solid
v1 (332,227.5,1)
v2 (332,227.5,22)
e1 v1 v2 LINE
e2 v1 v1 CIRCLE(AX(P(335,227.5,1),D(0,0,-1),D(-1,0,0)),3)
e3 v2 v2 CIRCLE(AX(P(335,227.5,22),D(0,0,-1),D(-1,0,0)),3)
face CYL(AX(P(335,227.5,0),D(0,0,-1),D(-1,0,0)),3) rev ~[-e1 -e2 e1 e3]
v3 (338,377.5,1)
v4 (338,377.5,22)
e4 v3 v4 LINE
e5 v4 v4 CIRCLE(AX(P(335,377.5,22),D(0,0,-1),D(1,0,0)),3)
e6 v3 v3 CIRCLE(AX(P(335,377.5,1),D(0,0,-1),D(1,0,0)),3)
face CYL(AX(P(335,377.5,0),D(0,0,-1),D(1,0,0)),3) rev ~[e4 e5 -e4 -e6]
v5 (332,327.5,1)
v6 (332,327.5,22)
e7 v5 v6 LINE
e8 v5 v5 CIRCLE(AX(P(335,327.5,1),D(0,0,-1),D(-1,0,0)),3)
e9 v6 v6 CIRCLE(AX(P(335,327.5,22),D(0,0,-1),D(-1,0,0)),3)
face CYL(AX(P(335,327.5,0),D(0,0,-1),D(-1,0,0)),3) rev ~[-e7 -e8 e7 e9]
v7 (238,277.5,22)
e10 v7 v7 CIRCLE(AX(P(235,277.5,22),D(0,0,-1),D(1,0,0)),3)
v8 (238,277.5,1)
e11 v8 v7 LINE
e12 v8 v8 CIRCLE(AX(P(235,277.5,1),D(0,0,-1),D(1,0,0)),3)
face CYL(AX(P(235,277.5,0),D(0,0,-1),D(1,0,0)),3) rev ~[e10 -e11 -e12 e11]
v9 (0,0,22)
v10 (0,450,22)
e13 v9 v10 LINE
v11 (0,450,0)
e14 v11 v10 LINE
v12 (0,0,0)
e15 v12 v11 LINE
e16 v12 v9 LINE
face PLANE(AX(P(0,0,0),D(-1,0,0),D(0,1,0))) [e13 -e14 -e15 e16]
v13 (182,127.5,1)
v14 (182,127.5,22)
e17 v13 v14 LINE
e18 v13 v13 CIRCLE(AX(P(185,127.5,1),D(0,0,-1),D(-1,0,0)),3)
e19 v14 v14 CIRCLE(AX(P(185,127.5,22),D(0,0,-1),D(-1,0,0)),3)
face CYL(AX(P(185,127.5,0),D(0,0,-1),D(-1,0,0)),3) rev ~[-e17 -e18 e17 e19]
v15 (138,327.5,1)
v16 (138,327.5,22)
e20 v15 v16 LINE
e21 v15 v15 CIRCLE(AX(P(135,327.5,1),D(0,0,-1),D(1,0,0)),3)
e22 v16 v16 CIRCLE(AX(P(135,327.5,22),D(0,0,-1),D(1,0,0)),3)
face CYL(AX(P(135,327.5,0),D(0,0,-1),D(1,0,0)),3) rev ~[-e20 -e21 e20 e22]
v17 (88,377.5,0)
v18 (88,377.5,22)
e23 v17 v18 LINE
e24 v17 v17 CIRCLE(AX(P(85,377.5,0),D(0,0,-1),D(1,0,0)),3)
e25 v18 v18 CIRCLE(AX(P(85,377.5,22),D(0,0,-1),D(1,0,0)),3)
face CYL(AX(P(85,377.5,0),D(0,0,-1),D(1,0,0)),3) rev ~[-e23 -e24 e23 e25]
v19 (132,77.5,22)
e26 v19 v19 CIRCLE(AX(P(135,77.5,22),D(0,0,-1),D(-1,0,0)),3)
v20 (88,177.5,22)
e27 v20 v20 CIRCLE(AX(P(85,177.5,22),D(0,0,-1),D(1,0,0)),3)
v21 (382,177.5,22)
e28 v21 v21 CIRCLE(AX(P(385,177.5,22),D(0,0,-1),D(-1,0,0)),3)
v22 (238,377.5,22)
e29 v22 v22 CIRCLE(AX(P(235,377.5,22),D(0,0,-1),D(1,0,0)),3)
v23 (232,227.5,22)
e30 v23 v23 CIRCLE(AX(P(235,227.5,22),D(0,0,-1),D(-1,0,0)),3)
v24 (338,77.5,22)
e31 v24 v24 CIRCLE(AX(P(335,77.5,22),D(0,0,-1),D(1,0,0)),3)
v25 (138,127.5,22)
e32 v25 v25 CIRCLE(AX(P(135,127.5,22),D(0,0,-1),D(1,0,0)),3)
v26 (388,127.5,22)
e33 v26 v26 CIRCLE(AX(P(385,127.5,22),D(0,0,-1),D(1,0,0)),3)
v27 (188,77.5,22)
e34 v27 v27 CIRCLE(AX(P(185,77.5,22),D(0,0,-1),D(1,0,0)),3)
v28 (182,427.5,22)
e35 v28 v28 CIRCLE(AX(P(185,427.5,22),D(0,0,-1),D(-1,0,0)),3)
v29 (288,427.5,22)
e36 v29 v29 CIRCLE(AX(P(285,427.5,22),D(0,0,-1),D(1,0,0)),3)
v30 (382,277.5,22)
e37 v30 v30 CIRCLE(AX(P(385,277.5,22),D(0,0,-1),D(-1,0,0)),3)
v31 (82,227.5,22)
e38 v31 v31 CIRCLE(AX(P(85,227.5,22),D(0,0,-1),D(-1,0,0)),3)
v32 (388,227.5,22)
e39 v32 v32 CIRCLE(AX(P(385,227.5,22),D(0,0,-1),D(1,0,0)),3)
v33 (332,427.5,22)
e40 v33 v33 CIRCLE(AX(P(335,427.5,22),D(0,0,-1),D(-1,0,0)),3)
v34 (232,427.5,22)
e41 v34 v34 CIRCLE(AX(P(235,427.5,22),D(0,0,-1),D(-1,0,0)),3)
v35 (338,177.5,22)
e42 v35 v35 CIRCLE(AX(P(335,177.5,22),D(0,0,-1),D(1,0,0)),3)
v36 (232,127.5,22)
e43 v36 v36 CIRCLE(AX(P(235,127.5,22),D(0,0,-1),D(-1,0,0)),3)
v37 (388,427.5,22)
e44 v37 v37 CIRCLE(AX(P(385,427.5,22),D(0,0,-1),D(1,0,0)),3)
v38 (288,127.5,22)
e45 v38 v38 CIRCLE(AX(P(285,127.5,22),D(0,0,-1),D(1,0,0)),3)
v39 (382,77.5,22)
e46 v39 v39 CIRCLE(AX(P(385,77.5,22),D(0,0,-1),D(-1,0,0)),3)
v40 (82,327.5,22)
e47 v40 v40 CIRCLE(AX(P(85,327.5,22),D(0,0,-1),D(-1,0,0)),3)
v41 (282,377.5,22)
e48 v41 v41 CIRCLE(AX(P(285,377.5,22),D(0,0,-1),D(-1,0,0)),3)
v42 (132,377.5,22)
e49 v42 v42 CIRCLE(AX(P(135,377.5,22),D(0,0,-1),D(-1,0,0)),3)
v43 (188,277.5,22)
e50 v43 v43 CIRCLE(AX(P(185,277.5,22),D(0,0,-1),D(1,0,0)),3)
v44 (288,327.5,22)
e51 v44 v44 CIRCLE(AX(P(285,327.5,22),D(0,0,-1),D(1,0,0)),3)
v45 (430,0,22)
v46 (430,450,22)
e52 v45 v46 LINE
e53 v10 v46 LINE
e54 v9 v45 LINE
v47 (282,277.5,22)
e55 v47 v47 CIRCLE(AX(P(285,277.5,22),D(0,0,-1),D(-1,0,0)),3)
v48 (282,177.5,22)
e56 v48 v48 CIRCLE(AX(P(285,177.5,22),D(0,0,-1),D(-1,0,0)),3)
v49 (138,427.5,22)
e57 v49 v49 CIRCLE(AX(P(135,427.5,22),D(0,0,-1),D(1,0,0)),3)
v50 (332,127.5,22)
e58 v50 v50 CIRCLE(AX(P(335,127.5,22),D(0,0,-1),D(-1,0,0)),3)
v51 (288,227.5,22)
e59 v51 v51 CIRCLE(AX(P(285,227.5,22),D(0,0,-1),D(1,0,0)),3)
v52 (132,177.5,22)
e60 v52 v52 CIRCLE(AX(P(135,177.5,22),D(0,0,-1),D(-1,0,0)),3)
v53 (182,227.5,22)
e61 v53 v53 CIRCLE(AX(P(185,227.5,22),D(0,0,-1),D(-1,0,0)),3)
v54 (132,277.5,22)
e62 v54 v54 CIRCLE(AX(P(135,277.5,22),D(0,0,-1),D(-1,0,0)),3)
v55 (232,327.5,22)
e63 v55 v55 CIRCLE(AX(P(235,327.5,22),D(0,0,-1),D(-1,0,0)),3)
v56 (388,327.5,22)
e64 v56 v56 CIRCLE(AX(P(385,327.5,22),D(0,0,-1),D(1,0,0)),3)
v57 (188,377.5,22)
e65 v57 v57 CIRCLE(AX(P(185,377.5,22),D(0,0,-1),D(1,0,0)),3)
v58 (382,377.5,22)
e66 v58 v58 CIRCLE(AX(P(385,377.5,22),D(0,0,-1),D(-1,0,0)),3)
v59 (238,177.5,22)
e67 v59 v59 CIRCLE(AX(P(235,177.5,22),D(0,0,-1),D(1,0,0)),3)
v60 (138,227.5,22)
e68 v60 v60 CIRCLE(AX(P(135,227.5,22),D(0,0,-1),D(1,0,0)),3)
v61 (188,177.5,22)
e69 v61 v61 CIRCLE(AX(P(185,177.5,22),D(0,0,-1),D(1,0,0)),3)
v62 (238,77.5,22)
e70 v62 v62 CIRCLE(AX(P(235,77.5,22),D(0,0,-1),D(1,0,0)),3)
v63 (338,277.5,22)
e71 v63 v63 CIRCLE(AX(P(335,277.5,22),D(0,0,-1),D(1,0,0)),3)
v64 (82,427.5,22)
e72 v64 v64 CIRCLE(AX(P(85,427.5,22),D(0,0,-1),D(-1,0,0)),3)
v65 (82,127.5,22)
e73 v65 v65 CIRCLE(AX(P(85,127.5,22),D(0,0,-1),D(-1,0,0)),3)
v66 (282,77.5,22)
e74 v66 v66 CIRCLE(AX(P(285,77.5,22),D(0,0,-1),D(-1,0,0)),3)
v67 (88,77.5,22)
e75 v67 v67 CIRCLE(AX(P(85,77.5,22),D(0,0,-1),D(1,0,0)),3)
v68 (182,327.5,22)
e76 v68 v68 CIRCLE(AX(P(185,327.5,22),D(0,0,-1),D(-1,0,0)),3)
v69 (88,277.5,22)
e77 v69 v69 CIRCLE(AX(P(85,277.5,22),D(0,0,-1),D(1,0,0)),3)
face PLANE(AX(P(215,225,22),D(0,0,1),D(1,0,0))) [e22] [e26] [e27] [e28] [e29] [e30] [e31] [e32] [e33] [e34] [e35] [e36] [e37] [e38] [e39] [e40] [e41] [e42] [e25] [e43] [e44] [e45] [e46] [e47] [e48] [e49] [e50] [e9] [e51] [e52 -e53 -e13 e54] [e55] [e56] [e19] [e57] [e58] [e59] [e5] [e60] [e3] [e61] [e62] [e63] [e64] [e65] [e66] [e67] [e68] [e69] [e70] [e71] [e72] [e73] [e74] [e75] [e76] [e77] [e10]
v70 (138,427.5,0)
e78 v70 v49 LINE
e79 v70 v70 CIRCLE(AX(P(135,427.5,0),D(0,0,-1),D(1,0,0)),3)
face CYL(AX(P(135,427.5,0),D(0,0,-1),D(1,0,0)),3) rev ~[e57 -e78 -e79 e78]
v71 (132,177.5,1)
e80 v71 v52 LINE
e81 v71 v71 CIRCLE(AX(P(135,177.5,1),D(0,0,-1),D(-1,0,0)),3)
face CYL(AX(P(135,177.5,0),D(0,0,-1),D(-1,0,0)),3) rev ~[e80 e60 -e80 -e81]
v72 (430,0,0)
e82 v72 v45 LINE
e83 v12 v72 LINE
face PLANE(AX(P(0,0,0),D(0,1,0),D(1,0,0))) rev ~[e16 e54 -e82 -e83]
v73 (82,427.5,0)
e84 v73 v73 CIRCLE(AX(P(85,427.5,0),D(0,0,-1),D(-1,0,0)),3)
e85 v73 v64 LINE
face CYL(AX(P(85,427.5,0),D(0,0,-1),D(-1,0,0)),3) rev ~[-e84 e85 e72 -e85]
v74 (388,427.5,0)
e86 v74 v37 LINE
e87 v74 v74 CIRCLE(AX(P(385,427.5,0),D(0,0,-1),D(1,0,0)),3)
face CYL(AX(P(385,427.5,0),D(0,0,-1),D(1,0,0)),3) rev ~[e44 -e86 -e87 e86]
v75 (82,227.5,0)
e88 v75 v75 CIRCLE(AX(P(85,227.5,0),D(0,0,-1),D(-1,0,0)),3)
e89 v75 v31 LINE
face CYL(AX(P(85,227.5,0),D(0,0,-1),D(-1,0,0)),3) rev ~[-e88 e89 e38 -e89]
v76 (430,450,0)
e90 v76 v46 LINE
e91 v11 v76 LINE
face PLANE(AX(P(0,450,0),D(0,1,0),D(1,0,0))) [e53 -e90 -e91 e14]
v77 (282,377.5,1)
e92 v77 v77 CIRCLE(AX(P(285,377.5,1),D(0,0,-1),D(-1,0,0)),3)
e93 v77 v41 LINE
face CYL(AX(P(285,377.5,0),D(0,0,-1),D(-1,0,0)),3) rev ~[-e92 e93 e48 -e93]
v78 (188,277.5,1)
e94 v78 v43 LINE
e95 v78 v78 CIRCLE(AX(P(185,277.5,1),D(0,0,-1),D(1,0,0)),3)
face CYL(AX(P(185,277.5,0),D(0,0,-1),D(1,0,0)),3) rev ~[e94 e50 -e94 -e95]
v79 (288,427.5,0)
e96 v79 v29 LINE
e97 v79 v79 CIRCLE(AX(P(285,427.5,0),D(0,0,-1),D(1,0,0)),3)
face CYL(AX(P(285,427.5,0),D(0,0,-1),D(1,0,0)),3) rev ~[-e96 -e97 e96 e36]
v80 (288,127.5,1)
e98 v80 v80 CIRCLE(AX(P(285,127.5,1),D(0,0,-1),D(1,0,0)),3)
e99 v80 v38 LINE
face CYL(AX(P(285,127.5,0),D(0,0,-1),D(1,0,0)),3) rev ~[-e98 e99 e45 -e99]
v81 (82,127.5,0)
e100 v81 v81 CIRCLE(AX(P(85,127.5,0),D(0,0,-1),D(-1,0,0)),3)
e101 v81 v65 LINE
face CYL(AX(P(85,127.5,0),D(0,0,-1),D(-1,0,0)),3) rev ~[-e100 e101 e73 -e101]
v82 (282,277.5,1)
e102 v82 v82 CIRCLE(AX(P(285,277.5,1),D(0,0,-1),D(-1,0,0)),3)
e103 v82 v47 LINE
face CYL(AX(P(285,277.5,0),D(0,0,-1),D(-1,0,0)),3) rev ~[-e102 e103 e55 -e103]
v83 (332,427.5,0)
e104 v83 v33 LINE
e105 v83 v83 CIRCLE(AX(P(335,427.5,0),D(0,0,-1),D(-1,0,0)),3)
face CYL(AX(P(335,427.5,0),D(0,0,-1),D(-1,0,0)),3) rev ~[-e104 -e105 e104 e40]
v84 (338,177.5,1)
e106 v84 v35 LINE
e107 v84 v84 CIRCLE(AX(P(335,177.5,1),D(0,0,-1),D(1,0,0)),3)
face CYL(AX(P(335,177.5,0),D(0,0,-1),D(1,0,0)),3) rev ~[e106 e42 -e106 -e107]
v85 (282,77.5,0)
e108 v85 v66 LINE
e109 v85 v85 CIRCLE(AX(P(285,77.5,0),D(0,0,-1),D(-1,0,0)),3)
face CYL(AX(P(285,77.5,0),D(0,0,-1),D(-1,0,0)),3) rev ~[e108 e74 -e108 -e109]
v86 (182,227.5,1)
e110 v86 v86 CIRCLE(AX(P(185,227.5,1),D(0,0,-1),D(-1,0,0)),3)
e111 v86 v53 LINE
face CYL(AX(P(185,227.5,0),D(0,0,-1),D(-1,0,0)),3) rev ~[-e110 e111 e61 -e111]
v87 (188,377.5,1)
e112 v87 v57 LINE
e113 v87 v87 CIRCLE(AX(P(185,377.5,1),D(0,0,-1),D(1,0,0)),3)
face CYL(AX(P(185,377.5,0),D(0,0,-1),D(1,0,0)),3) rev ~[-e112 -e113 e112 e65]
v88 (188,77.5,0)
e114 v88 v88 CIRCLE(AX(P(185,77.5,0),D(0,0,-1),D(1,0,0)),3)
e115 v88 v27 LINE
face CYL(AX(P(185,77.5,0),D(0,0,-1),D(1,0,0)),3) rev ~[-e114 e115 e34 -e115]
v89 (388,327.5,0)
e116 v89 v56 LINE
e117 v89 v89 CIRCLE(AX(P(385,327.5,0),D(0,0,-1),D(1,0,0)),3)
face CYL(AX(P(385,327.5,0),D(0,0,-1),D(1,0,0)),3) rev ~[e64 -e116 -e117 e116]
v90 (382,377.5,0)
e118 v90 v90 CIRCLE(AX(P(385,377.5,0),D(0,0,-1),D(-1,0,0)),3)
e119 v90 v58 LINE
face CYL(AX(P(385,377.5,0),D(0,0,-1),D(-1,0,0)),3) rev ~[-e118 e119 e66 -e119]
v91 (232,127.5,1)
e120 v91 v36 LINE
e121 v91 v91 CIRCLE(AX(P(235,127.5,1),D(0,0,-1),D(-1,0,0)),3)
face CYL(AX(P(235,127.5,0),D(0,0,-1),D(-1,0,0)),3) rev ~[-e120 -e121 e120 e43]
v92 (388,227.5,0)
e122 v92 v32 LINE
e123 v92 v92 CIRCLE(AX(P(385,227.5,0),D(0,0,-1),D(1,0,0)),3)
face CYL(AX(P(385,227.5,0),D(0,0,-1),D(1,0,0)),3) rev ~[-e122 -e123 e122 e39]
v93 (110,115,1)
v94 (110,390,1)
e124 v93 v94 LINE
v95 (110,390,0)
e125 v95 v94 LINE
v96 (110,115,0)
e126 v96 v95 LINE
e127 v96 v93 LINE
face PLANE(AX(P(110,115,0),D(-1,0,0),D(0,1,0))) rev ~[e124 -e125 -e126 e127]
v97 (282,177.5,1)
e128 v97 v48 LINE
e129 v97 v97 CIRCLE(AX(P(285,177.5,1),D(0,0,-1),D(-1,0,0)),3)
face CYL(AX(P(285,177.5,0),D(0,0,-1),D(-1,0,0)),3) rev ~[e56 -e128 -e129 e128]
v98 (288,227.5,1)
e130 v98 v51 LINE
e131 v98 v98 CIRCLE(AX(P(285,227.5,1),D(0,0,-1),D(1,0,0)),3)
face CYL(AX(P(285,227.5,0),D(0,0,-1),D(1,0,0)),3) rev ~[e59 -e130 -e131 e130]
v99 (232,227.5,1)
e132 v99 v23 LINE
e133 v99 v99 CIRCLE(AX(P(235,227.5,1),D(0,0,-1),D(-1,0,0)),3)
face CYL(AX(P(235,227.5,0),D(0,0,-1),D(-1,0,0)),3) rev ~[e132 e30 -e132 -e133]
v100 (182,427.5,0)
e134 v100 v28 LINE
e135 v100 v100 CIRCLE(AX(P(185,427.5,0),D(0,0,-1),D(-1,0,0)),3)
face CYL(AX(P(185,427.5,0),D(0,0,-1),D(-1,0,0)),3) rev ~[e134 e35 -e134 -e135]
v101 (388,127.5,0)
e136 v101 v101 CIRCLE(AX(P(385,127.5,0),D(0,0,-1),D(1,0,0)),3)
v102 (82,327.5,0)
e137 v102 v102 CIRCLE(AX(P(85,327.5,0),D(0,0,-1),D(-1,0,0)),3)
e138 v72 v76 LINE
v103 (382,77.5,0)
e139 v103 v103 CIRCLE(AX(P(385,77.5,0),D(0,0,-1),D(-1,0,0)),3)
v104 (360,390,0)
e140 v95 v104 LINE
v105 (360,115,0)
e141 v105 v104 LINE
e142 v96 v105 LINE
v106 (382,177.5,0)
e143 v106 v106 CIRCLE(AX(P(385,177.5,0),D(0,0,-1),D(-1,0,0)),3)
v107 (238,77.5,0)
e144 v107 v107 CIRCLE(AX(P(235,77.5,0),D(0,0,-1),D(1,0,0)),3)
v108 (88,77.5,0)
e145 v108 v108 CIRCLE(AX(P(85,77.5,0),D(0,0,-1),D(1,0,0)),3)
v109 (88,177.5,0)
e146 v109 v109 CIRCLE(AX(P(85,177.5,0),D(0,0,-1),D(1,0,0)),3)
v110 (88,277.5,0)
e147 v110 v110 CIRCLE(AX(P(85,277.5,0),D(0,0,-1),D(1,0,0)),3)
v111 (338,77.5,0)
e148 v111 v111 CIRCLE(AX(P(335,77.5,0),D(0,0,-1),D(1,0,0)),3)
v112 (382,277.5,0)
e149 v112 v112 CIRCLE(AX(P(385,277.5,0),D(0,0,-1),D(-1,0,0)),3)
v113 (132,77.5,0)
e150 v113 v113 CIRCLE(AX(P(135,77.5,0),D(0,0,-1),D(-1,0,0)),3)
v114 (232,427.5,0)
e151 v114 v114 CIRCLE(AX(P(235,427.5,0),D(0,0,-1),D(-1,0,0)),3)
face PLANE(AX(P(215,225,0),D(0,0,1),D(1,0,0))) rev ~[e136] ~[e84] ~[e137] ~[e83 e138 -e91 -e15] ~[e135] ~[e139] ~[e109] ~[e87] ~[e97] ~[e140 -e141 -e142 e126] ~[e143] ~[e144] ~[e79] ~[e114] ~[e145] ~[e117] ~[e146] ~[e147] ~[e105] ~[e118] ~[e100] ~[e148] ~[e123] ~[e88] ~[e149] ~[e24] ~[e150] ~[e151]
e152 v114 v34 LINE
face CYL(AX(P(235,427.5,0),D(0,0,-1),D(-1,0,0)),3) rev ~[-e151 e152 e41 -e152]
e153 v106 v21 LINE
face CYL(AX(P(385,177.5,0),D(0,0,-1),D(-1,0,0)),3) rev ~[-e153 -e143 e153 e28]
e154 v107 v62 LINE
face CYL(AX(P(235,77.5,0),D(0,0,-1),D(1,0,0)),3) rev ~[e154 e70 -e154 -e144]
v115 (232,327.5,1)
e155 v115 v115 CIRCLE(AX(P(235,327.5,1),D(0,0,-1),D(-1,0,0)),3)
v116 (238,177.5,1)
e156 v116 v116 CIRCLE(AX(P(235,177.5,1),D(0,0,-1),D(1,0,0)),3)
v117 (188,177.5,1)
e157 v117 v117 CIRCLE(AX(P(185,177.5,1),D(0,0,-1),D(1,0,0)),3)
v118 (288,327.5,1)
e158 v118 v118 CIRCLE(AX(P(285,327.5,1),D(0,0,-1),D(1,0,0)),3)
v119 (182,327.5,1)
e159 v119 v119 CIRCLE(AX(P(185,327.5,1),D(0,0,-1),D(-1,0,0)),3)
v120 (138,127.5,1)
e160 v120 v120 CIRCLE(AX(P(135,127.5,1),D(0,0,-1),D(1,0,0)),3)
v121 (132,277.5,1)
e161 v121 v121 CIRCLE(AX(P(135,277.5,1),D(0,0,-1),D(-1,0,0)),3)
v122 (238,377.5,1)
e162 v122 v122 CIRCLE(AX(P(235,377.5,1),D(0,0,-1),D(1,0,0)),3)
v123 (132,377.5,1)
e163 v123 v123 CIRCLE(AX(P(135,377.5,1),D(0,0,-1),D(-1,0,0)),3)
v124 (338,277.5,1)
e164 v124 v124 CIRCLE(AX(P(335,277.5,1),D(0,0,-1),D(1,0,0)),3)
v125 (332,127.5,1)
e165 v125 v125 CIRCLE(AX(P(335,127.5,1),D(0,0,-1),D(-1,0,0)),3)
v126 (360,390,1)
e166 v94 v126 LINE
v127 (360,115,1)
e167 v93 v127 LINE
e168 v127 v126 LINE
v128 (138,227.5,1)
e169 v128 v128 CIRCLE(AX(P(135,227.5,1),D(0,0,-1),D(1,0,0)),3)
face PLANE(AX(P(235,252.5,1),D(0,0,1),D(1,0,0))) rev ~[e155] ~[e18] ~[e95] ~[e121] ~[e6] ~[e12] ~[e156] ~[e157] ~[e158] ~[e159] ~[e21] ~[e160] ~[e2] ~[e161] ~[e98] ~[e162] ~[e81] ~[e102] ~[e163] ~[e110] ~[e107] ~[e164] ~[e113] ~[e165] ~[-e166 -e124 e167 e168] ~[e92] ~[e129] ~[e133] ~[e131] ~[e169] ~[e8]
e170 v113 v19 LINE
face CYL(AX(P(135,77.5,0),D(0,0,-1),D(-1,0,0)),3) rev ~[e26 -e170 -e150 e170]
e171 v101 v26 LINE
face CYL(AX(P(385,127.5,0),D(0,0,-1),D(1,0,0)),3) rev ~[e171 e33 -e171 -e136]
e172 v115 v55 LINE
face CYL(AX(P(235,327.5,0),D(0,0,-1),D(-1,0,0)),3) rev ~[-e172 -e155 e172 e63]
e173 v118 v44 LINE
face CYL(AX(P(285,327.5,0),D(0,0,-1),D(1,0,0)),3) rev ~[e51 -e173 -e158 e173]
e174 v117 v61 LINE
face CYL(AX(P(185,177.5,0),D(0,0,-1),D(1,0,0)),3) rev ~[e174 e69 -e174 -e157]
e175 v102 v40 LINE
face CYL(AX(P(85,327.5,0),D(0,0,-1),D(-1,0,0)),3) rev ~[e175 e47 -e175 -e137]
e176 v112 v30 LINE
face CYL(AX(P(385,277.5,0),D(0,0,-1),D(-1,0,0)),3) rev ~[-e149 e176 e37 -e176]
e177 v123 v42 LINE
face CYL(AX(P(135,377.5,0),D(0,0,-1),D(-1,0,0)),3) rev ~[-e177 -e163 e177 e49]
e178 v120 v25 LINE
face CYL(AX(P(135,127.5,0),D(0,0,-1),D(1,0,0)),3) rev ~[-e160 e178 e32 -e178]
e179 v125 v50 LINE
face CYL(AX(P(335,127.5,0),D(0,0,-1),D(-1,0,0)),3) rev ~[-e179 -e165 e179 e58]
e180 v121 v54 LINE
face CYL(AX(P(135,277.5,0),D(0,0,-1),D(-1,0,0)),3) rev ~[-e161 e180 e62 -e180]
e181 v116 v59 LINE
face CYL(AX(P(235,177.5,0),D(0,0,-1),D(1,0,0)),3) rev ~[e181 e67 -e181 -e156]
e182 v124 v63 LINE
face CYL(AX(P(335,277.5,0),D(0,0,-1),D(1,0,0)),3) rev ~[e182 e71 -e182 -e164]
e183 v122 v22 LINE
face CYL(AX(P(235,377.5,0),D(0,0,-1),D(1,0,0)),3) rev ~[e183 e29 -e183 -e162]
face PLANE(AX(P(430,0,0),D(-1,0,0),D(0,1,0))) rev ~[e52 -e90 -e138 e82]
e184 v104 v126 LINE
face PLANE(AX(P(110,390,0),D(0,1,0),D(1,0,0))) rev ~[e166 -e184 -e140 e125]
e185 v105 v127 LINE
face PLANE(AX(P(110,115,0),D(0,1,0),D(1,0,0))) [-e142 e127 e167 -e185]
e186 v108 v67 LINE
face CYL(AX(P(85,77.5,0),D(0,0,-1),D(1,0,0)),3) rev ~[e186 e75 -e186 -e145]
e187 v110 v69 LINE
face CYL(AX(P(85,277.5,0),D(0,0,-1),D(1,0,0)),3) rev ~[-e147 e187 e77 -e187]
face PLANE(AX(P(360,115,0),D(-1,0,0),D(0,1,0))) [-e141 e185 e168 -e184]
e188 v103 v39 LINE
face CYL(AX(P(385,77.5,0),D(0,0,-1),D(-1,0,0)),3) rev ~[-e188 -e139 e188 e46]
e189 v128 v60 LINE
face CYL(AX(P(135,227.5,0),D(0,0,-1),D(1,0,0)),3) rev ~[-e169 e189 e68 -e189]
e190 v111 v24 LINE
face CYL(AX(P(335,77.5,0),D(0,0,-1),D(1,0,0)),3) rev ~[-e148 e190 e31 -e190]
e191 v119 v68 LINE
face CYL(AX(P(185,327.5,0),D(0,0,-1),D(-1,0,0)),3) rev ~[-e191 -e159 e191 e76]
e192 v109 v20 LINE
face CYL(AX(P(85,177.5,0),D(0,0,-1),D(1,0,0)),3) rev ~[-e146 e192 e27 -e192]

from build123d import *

# Parameters (mm, degrees)
ESQUISSE1_W             = 430
ESQUISSE1_H             = 450
BOSS_EXTRU_1_DEPTH      = 22
ENL_V_START             = -22
ESQUISSE2_W             = 250
ESQUISSE2_H             = 275
ENL_V_MAT_EXTRU_1_DEPTH = 1
ESQUISSE3_R             = 3
ENL_V_MAT_EXTRU_2_DEPTH = 623.803339747


with BuildPart() as part:
    # Esquisse1 → Boss.-Extru.1 (new body)
    with BuildSketch(Plane.XY):
        with Locations((215, 225)):
            Rectangle(ESQUISSE1_W, ESQUISSE1_H)
    extrude(amount=BOSS_EXTRU_1_DEPTH)

    # Esquisse2 → Enlèv. mat.-Extru.1 (cut)
    with BuildSketch(Plane.XY.offset(22).offset(ENL_V_START)):
        with Locations((235, 252.5)):
            Rectangle(ESQUISSE2_W, ESQUISSE2_H)
    extrude(amount=ENL_V_MAT_EXTRU_1_DEPTH, mode=Mode.SUBTRACT)

    # Esquisse3 → Enlèv. mat.-Extru.2 (cut, through all)
    with BuildSketch(Plane(origin=(0, 0, 0), x_dir=(-1, 0, 0), z_dir=(0, 0, -1))):
        with Locations((-385, 277.5)):
            Circle(ESQUISSE3_R)
        with Locations(Location((-335, 277.5, 0), (0, 0, 180))):
            Circle(ESQUISSE3_R)
        with Locations((-135, 77.5)):
            Circle(ESQUISSE3_R)
        with Locations(Location((-85, 77.5, 0), (0, 0, 180))):
            Circle(ESQUISSE3_R)
        with Locations(Location((-185, 77.5, 0), (0, 0, 180))):
            Circle(ESQUISSE3_R)
        with Locations((-285, 77.5)):
            Circle(ESQUISSE3_R)
        with Locations((-285, 277.5)):
            Circle(ESQUISSE3_R)
        with Locations(Location((-235, 277.5, 0), (0, 0, 180))):
            Circle(ESQUISSE3_R)
        with Locations(Location((-185, 277.5, 0), (0, 0, 180))):
            Circle(ESQUISSE3_R)
        with Locations(Location((-235, 77.5, 0), (0, 0, 180))):
            Circle(ESQUISSE3_R)
        with Locations((-385, 77.5)):
            Circle(ESQUISSE3_R)
        with Locations(Location((-335, 77.5, 0), (0, 0, 180))):
            Circle(ESQUISSE3_R)
        with Locations((-135, 277.5)):
            Circle(ESQUISSE3_R)
        with Locations(Location((-85, 277.5, 0), (0, 0, 180))):
            Circle(ESQUISSE3_R)
        with Locations((-85, 327.5)):
            Circle(ESQUISSE3_R)
        with Locations(Location((-135, 327.5, 0), (0, 0, 180))):
            Circle(ESQUISSE3_R)
        with Locations((-135, 377.5)):
            Circle(ESQUISSE3_R)
        with Locations(Location((-85, 377.5, 0), (0, 0, 180))):
            Circle(ESQUISSE3_R)
        with Locations(Location((-185, 377.5, 0), (0, 0, 180))):
            Circle(ESQUISSE3_R)
        with Locations((-185, 327.5)):
            Circle(ESQUISSE3_R)
        with Locations((-235, 327.5)):
            Circle(ESQUISSE3_R)
        with Locations(Location((-285, 327.5, 0), (0, 0, 180))):
            Circle(ESQUISSE3_R)
        with Locations((-285, 377.5)):
            Circle(ESQUISSE3_R)
        with Locations(Location((-235, 377.5, 0), (0, 0, 180))):
            Circle(ESQUISSE3_R)
        with Locations((-385, 377.5)):
            Circle(ESQUISSE3_R)
        with Locations(Location((-335, 377.5, 0), (0, 0, 180))):
            Circle(ESQUISSE3_R)
        with Locations((-335, 327.5)):
            Circle(ESQUISSE3_R)
        with Locations(Location((-385, 327.5, 0), (0, 0, 180))):
            Circle(ESQUISSE3_R)
        with Locations((-385, 177.5)):
            Circle(ESQUISSE3_R)
        with Locations(Location((-335, 177.5, 0), (0, 0, 180))):
            Circle(ESQUISSE3_R)
        with Locations((-335, 127.5)):
            Circle(ESQUISSE3_R)
        with Locations(Location((-385, 127.5, 0), (0, 0, 180))):
            Circle(ESQUISSE3_R)
        with Locations((-235, 127.5)):
            Circle(ESQUISSE3_R)
        with Locations(Location((-285, 127.5, 0), (0, 0, 180))):
            Circle(ESQUISSE3_R)
        with Locations((-285, 177.5)):
            Circle(ESQUISSE3_R)
        with Locations(Location((-235, 177.5, 0), (0, 0, 180))):
            Circle(ESQUISSE3_R)
        with Locations(Location((-185, 177.5, 0), (0, 0, 180))):
            Circle(ESQUISSE3_R)
        with Locations((-185, 127.5)):
            Circle(ESQUISSE3_R)
        with Locations((-85, 127.5)):
            Circle(ESQUISSE3_R)
        with Locations(Location((-135, 127.5, 0), (0, 0, 180))):
            Circle(ESQUISSE3_R)
        with Locations((-135, 177.5)):
            Circle(ESQUISSE3_R)
        with Locations(Location((-85, 177.5, 0), (0, 0, 180))):
            Circle(ESQUISSE3_R)
        with Locations((-85, 227.5)):
            Circle(ESQUISSE3_R)
        with Locations(Location((-135, 227.5, 0), (0, 0, 180))):
            Circle(ESQUISSE3_R)
        with Locations((-185, 227.5)):
            Circle(ESQUISSE3_R)
        with Locations((-235, 227.5)):
            Circle(ESQUISSE3_R)
        with Locations(Location((-285, 227.5, 0), (0, 0, 180))):
            Circle(ESQUISSE3_R)
        with Locations((-335, 227.5)):
            Circle(ESQUISSE3_R)
        with Locations(Location((-385, 227.5, 0), (0, 0, 180))):
            Circle(ESQUISSE3_R)
        with Locations((-335, 427.5)):
            Circle(ESQUISSE3_R)
        with Locations(Location((-385, 427.5, 0), (0, 0, 180))):
            Circle(ESQUISSE3_R)
        with Locations((-235, 427.5)):
            Circle(ESQUISSE3_R)
        with Locations(Location((-285, 427.5, 0), (0, 0, 180))):
            Circle(ESQUISSE3_R)
        with Locations((-185, 427.5)):
            Circle(ESQUISSE3_R)
        with Locations((-85, 427.5)):
            Circle(ESQUISSE3_R)
        with Locations(Location((-135, 427.5, 0), (0, 0, 180))):
            Circle(ESQUISSE3_R)
    extrude(amount=-ENL_V_MAT_EXTRU_2_DEPTH, mode=Mode.SUBTRACT)


solid = part.part
